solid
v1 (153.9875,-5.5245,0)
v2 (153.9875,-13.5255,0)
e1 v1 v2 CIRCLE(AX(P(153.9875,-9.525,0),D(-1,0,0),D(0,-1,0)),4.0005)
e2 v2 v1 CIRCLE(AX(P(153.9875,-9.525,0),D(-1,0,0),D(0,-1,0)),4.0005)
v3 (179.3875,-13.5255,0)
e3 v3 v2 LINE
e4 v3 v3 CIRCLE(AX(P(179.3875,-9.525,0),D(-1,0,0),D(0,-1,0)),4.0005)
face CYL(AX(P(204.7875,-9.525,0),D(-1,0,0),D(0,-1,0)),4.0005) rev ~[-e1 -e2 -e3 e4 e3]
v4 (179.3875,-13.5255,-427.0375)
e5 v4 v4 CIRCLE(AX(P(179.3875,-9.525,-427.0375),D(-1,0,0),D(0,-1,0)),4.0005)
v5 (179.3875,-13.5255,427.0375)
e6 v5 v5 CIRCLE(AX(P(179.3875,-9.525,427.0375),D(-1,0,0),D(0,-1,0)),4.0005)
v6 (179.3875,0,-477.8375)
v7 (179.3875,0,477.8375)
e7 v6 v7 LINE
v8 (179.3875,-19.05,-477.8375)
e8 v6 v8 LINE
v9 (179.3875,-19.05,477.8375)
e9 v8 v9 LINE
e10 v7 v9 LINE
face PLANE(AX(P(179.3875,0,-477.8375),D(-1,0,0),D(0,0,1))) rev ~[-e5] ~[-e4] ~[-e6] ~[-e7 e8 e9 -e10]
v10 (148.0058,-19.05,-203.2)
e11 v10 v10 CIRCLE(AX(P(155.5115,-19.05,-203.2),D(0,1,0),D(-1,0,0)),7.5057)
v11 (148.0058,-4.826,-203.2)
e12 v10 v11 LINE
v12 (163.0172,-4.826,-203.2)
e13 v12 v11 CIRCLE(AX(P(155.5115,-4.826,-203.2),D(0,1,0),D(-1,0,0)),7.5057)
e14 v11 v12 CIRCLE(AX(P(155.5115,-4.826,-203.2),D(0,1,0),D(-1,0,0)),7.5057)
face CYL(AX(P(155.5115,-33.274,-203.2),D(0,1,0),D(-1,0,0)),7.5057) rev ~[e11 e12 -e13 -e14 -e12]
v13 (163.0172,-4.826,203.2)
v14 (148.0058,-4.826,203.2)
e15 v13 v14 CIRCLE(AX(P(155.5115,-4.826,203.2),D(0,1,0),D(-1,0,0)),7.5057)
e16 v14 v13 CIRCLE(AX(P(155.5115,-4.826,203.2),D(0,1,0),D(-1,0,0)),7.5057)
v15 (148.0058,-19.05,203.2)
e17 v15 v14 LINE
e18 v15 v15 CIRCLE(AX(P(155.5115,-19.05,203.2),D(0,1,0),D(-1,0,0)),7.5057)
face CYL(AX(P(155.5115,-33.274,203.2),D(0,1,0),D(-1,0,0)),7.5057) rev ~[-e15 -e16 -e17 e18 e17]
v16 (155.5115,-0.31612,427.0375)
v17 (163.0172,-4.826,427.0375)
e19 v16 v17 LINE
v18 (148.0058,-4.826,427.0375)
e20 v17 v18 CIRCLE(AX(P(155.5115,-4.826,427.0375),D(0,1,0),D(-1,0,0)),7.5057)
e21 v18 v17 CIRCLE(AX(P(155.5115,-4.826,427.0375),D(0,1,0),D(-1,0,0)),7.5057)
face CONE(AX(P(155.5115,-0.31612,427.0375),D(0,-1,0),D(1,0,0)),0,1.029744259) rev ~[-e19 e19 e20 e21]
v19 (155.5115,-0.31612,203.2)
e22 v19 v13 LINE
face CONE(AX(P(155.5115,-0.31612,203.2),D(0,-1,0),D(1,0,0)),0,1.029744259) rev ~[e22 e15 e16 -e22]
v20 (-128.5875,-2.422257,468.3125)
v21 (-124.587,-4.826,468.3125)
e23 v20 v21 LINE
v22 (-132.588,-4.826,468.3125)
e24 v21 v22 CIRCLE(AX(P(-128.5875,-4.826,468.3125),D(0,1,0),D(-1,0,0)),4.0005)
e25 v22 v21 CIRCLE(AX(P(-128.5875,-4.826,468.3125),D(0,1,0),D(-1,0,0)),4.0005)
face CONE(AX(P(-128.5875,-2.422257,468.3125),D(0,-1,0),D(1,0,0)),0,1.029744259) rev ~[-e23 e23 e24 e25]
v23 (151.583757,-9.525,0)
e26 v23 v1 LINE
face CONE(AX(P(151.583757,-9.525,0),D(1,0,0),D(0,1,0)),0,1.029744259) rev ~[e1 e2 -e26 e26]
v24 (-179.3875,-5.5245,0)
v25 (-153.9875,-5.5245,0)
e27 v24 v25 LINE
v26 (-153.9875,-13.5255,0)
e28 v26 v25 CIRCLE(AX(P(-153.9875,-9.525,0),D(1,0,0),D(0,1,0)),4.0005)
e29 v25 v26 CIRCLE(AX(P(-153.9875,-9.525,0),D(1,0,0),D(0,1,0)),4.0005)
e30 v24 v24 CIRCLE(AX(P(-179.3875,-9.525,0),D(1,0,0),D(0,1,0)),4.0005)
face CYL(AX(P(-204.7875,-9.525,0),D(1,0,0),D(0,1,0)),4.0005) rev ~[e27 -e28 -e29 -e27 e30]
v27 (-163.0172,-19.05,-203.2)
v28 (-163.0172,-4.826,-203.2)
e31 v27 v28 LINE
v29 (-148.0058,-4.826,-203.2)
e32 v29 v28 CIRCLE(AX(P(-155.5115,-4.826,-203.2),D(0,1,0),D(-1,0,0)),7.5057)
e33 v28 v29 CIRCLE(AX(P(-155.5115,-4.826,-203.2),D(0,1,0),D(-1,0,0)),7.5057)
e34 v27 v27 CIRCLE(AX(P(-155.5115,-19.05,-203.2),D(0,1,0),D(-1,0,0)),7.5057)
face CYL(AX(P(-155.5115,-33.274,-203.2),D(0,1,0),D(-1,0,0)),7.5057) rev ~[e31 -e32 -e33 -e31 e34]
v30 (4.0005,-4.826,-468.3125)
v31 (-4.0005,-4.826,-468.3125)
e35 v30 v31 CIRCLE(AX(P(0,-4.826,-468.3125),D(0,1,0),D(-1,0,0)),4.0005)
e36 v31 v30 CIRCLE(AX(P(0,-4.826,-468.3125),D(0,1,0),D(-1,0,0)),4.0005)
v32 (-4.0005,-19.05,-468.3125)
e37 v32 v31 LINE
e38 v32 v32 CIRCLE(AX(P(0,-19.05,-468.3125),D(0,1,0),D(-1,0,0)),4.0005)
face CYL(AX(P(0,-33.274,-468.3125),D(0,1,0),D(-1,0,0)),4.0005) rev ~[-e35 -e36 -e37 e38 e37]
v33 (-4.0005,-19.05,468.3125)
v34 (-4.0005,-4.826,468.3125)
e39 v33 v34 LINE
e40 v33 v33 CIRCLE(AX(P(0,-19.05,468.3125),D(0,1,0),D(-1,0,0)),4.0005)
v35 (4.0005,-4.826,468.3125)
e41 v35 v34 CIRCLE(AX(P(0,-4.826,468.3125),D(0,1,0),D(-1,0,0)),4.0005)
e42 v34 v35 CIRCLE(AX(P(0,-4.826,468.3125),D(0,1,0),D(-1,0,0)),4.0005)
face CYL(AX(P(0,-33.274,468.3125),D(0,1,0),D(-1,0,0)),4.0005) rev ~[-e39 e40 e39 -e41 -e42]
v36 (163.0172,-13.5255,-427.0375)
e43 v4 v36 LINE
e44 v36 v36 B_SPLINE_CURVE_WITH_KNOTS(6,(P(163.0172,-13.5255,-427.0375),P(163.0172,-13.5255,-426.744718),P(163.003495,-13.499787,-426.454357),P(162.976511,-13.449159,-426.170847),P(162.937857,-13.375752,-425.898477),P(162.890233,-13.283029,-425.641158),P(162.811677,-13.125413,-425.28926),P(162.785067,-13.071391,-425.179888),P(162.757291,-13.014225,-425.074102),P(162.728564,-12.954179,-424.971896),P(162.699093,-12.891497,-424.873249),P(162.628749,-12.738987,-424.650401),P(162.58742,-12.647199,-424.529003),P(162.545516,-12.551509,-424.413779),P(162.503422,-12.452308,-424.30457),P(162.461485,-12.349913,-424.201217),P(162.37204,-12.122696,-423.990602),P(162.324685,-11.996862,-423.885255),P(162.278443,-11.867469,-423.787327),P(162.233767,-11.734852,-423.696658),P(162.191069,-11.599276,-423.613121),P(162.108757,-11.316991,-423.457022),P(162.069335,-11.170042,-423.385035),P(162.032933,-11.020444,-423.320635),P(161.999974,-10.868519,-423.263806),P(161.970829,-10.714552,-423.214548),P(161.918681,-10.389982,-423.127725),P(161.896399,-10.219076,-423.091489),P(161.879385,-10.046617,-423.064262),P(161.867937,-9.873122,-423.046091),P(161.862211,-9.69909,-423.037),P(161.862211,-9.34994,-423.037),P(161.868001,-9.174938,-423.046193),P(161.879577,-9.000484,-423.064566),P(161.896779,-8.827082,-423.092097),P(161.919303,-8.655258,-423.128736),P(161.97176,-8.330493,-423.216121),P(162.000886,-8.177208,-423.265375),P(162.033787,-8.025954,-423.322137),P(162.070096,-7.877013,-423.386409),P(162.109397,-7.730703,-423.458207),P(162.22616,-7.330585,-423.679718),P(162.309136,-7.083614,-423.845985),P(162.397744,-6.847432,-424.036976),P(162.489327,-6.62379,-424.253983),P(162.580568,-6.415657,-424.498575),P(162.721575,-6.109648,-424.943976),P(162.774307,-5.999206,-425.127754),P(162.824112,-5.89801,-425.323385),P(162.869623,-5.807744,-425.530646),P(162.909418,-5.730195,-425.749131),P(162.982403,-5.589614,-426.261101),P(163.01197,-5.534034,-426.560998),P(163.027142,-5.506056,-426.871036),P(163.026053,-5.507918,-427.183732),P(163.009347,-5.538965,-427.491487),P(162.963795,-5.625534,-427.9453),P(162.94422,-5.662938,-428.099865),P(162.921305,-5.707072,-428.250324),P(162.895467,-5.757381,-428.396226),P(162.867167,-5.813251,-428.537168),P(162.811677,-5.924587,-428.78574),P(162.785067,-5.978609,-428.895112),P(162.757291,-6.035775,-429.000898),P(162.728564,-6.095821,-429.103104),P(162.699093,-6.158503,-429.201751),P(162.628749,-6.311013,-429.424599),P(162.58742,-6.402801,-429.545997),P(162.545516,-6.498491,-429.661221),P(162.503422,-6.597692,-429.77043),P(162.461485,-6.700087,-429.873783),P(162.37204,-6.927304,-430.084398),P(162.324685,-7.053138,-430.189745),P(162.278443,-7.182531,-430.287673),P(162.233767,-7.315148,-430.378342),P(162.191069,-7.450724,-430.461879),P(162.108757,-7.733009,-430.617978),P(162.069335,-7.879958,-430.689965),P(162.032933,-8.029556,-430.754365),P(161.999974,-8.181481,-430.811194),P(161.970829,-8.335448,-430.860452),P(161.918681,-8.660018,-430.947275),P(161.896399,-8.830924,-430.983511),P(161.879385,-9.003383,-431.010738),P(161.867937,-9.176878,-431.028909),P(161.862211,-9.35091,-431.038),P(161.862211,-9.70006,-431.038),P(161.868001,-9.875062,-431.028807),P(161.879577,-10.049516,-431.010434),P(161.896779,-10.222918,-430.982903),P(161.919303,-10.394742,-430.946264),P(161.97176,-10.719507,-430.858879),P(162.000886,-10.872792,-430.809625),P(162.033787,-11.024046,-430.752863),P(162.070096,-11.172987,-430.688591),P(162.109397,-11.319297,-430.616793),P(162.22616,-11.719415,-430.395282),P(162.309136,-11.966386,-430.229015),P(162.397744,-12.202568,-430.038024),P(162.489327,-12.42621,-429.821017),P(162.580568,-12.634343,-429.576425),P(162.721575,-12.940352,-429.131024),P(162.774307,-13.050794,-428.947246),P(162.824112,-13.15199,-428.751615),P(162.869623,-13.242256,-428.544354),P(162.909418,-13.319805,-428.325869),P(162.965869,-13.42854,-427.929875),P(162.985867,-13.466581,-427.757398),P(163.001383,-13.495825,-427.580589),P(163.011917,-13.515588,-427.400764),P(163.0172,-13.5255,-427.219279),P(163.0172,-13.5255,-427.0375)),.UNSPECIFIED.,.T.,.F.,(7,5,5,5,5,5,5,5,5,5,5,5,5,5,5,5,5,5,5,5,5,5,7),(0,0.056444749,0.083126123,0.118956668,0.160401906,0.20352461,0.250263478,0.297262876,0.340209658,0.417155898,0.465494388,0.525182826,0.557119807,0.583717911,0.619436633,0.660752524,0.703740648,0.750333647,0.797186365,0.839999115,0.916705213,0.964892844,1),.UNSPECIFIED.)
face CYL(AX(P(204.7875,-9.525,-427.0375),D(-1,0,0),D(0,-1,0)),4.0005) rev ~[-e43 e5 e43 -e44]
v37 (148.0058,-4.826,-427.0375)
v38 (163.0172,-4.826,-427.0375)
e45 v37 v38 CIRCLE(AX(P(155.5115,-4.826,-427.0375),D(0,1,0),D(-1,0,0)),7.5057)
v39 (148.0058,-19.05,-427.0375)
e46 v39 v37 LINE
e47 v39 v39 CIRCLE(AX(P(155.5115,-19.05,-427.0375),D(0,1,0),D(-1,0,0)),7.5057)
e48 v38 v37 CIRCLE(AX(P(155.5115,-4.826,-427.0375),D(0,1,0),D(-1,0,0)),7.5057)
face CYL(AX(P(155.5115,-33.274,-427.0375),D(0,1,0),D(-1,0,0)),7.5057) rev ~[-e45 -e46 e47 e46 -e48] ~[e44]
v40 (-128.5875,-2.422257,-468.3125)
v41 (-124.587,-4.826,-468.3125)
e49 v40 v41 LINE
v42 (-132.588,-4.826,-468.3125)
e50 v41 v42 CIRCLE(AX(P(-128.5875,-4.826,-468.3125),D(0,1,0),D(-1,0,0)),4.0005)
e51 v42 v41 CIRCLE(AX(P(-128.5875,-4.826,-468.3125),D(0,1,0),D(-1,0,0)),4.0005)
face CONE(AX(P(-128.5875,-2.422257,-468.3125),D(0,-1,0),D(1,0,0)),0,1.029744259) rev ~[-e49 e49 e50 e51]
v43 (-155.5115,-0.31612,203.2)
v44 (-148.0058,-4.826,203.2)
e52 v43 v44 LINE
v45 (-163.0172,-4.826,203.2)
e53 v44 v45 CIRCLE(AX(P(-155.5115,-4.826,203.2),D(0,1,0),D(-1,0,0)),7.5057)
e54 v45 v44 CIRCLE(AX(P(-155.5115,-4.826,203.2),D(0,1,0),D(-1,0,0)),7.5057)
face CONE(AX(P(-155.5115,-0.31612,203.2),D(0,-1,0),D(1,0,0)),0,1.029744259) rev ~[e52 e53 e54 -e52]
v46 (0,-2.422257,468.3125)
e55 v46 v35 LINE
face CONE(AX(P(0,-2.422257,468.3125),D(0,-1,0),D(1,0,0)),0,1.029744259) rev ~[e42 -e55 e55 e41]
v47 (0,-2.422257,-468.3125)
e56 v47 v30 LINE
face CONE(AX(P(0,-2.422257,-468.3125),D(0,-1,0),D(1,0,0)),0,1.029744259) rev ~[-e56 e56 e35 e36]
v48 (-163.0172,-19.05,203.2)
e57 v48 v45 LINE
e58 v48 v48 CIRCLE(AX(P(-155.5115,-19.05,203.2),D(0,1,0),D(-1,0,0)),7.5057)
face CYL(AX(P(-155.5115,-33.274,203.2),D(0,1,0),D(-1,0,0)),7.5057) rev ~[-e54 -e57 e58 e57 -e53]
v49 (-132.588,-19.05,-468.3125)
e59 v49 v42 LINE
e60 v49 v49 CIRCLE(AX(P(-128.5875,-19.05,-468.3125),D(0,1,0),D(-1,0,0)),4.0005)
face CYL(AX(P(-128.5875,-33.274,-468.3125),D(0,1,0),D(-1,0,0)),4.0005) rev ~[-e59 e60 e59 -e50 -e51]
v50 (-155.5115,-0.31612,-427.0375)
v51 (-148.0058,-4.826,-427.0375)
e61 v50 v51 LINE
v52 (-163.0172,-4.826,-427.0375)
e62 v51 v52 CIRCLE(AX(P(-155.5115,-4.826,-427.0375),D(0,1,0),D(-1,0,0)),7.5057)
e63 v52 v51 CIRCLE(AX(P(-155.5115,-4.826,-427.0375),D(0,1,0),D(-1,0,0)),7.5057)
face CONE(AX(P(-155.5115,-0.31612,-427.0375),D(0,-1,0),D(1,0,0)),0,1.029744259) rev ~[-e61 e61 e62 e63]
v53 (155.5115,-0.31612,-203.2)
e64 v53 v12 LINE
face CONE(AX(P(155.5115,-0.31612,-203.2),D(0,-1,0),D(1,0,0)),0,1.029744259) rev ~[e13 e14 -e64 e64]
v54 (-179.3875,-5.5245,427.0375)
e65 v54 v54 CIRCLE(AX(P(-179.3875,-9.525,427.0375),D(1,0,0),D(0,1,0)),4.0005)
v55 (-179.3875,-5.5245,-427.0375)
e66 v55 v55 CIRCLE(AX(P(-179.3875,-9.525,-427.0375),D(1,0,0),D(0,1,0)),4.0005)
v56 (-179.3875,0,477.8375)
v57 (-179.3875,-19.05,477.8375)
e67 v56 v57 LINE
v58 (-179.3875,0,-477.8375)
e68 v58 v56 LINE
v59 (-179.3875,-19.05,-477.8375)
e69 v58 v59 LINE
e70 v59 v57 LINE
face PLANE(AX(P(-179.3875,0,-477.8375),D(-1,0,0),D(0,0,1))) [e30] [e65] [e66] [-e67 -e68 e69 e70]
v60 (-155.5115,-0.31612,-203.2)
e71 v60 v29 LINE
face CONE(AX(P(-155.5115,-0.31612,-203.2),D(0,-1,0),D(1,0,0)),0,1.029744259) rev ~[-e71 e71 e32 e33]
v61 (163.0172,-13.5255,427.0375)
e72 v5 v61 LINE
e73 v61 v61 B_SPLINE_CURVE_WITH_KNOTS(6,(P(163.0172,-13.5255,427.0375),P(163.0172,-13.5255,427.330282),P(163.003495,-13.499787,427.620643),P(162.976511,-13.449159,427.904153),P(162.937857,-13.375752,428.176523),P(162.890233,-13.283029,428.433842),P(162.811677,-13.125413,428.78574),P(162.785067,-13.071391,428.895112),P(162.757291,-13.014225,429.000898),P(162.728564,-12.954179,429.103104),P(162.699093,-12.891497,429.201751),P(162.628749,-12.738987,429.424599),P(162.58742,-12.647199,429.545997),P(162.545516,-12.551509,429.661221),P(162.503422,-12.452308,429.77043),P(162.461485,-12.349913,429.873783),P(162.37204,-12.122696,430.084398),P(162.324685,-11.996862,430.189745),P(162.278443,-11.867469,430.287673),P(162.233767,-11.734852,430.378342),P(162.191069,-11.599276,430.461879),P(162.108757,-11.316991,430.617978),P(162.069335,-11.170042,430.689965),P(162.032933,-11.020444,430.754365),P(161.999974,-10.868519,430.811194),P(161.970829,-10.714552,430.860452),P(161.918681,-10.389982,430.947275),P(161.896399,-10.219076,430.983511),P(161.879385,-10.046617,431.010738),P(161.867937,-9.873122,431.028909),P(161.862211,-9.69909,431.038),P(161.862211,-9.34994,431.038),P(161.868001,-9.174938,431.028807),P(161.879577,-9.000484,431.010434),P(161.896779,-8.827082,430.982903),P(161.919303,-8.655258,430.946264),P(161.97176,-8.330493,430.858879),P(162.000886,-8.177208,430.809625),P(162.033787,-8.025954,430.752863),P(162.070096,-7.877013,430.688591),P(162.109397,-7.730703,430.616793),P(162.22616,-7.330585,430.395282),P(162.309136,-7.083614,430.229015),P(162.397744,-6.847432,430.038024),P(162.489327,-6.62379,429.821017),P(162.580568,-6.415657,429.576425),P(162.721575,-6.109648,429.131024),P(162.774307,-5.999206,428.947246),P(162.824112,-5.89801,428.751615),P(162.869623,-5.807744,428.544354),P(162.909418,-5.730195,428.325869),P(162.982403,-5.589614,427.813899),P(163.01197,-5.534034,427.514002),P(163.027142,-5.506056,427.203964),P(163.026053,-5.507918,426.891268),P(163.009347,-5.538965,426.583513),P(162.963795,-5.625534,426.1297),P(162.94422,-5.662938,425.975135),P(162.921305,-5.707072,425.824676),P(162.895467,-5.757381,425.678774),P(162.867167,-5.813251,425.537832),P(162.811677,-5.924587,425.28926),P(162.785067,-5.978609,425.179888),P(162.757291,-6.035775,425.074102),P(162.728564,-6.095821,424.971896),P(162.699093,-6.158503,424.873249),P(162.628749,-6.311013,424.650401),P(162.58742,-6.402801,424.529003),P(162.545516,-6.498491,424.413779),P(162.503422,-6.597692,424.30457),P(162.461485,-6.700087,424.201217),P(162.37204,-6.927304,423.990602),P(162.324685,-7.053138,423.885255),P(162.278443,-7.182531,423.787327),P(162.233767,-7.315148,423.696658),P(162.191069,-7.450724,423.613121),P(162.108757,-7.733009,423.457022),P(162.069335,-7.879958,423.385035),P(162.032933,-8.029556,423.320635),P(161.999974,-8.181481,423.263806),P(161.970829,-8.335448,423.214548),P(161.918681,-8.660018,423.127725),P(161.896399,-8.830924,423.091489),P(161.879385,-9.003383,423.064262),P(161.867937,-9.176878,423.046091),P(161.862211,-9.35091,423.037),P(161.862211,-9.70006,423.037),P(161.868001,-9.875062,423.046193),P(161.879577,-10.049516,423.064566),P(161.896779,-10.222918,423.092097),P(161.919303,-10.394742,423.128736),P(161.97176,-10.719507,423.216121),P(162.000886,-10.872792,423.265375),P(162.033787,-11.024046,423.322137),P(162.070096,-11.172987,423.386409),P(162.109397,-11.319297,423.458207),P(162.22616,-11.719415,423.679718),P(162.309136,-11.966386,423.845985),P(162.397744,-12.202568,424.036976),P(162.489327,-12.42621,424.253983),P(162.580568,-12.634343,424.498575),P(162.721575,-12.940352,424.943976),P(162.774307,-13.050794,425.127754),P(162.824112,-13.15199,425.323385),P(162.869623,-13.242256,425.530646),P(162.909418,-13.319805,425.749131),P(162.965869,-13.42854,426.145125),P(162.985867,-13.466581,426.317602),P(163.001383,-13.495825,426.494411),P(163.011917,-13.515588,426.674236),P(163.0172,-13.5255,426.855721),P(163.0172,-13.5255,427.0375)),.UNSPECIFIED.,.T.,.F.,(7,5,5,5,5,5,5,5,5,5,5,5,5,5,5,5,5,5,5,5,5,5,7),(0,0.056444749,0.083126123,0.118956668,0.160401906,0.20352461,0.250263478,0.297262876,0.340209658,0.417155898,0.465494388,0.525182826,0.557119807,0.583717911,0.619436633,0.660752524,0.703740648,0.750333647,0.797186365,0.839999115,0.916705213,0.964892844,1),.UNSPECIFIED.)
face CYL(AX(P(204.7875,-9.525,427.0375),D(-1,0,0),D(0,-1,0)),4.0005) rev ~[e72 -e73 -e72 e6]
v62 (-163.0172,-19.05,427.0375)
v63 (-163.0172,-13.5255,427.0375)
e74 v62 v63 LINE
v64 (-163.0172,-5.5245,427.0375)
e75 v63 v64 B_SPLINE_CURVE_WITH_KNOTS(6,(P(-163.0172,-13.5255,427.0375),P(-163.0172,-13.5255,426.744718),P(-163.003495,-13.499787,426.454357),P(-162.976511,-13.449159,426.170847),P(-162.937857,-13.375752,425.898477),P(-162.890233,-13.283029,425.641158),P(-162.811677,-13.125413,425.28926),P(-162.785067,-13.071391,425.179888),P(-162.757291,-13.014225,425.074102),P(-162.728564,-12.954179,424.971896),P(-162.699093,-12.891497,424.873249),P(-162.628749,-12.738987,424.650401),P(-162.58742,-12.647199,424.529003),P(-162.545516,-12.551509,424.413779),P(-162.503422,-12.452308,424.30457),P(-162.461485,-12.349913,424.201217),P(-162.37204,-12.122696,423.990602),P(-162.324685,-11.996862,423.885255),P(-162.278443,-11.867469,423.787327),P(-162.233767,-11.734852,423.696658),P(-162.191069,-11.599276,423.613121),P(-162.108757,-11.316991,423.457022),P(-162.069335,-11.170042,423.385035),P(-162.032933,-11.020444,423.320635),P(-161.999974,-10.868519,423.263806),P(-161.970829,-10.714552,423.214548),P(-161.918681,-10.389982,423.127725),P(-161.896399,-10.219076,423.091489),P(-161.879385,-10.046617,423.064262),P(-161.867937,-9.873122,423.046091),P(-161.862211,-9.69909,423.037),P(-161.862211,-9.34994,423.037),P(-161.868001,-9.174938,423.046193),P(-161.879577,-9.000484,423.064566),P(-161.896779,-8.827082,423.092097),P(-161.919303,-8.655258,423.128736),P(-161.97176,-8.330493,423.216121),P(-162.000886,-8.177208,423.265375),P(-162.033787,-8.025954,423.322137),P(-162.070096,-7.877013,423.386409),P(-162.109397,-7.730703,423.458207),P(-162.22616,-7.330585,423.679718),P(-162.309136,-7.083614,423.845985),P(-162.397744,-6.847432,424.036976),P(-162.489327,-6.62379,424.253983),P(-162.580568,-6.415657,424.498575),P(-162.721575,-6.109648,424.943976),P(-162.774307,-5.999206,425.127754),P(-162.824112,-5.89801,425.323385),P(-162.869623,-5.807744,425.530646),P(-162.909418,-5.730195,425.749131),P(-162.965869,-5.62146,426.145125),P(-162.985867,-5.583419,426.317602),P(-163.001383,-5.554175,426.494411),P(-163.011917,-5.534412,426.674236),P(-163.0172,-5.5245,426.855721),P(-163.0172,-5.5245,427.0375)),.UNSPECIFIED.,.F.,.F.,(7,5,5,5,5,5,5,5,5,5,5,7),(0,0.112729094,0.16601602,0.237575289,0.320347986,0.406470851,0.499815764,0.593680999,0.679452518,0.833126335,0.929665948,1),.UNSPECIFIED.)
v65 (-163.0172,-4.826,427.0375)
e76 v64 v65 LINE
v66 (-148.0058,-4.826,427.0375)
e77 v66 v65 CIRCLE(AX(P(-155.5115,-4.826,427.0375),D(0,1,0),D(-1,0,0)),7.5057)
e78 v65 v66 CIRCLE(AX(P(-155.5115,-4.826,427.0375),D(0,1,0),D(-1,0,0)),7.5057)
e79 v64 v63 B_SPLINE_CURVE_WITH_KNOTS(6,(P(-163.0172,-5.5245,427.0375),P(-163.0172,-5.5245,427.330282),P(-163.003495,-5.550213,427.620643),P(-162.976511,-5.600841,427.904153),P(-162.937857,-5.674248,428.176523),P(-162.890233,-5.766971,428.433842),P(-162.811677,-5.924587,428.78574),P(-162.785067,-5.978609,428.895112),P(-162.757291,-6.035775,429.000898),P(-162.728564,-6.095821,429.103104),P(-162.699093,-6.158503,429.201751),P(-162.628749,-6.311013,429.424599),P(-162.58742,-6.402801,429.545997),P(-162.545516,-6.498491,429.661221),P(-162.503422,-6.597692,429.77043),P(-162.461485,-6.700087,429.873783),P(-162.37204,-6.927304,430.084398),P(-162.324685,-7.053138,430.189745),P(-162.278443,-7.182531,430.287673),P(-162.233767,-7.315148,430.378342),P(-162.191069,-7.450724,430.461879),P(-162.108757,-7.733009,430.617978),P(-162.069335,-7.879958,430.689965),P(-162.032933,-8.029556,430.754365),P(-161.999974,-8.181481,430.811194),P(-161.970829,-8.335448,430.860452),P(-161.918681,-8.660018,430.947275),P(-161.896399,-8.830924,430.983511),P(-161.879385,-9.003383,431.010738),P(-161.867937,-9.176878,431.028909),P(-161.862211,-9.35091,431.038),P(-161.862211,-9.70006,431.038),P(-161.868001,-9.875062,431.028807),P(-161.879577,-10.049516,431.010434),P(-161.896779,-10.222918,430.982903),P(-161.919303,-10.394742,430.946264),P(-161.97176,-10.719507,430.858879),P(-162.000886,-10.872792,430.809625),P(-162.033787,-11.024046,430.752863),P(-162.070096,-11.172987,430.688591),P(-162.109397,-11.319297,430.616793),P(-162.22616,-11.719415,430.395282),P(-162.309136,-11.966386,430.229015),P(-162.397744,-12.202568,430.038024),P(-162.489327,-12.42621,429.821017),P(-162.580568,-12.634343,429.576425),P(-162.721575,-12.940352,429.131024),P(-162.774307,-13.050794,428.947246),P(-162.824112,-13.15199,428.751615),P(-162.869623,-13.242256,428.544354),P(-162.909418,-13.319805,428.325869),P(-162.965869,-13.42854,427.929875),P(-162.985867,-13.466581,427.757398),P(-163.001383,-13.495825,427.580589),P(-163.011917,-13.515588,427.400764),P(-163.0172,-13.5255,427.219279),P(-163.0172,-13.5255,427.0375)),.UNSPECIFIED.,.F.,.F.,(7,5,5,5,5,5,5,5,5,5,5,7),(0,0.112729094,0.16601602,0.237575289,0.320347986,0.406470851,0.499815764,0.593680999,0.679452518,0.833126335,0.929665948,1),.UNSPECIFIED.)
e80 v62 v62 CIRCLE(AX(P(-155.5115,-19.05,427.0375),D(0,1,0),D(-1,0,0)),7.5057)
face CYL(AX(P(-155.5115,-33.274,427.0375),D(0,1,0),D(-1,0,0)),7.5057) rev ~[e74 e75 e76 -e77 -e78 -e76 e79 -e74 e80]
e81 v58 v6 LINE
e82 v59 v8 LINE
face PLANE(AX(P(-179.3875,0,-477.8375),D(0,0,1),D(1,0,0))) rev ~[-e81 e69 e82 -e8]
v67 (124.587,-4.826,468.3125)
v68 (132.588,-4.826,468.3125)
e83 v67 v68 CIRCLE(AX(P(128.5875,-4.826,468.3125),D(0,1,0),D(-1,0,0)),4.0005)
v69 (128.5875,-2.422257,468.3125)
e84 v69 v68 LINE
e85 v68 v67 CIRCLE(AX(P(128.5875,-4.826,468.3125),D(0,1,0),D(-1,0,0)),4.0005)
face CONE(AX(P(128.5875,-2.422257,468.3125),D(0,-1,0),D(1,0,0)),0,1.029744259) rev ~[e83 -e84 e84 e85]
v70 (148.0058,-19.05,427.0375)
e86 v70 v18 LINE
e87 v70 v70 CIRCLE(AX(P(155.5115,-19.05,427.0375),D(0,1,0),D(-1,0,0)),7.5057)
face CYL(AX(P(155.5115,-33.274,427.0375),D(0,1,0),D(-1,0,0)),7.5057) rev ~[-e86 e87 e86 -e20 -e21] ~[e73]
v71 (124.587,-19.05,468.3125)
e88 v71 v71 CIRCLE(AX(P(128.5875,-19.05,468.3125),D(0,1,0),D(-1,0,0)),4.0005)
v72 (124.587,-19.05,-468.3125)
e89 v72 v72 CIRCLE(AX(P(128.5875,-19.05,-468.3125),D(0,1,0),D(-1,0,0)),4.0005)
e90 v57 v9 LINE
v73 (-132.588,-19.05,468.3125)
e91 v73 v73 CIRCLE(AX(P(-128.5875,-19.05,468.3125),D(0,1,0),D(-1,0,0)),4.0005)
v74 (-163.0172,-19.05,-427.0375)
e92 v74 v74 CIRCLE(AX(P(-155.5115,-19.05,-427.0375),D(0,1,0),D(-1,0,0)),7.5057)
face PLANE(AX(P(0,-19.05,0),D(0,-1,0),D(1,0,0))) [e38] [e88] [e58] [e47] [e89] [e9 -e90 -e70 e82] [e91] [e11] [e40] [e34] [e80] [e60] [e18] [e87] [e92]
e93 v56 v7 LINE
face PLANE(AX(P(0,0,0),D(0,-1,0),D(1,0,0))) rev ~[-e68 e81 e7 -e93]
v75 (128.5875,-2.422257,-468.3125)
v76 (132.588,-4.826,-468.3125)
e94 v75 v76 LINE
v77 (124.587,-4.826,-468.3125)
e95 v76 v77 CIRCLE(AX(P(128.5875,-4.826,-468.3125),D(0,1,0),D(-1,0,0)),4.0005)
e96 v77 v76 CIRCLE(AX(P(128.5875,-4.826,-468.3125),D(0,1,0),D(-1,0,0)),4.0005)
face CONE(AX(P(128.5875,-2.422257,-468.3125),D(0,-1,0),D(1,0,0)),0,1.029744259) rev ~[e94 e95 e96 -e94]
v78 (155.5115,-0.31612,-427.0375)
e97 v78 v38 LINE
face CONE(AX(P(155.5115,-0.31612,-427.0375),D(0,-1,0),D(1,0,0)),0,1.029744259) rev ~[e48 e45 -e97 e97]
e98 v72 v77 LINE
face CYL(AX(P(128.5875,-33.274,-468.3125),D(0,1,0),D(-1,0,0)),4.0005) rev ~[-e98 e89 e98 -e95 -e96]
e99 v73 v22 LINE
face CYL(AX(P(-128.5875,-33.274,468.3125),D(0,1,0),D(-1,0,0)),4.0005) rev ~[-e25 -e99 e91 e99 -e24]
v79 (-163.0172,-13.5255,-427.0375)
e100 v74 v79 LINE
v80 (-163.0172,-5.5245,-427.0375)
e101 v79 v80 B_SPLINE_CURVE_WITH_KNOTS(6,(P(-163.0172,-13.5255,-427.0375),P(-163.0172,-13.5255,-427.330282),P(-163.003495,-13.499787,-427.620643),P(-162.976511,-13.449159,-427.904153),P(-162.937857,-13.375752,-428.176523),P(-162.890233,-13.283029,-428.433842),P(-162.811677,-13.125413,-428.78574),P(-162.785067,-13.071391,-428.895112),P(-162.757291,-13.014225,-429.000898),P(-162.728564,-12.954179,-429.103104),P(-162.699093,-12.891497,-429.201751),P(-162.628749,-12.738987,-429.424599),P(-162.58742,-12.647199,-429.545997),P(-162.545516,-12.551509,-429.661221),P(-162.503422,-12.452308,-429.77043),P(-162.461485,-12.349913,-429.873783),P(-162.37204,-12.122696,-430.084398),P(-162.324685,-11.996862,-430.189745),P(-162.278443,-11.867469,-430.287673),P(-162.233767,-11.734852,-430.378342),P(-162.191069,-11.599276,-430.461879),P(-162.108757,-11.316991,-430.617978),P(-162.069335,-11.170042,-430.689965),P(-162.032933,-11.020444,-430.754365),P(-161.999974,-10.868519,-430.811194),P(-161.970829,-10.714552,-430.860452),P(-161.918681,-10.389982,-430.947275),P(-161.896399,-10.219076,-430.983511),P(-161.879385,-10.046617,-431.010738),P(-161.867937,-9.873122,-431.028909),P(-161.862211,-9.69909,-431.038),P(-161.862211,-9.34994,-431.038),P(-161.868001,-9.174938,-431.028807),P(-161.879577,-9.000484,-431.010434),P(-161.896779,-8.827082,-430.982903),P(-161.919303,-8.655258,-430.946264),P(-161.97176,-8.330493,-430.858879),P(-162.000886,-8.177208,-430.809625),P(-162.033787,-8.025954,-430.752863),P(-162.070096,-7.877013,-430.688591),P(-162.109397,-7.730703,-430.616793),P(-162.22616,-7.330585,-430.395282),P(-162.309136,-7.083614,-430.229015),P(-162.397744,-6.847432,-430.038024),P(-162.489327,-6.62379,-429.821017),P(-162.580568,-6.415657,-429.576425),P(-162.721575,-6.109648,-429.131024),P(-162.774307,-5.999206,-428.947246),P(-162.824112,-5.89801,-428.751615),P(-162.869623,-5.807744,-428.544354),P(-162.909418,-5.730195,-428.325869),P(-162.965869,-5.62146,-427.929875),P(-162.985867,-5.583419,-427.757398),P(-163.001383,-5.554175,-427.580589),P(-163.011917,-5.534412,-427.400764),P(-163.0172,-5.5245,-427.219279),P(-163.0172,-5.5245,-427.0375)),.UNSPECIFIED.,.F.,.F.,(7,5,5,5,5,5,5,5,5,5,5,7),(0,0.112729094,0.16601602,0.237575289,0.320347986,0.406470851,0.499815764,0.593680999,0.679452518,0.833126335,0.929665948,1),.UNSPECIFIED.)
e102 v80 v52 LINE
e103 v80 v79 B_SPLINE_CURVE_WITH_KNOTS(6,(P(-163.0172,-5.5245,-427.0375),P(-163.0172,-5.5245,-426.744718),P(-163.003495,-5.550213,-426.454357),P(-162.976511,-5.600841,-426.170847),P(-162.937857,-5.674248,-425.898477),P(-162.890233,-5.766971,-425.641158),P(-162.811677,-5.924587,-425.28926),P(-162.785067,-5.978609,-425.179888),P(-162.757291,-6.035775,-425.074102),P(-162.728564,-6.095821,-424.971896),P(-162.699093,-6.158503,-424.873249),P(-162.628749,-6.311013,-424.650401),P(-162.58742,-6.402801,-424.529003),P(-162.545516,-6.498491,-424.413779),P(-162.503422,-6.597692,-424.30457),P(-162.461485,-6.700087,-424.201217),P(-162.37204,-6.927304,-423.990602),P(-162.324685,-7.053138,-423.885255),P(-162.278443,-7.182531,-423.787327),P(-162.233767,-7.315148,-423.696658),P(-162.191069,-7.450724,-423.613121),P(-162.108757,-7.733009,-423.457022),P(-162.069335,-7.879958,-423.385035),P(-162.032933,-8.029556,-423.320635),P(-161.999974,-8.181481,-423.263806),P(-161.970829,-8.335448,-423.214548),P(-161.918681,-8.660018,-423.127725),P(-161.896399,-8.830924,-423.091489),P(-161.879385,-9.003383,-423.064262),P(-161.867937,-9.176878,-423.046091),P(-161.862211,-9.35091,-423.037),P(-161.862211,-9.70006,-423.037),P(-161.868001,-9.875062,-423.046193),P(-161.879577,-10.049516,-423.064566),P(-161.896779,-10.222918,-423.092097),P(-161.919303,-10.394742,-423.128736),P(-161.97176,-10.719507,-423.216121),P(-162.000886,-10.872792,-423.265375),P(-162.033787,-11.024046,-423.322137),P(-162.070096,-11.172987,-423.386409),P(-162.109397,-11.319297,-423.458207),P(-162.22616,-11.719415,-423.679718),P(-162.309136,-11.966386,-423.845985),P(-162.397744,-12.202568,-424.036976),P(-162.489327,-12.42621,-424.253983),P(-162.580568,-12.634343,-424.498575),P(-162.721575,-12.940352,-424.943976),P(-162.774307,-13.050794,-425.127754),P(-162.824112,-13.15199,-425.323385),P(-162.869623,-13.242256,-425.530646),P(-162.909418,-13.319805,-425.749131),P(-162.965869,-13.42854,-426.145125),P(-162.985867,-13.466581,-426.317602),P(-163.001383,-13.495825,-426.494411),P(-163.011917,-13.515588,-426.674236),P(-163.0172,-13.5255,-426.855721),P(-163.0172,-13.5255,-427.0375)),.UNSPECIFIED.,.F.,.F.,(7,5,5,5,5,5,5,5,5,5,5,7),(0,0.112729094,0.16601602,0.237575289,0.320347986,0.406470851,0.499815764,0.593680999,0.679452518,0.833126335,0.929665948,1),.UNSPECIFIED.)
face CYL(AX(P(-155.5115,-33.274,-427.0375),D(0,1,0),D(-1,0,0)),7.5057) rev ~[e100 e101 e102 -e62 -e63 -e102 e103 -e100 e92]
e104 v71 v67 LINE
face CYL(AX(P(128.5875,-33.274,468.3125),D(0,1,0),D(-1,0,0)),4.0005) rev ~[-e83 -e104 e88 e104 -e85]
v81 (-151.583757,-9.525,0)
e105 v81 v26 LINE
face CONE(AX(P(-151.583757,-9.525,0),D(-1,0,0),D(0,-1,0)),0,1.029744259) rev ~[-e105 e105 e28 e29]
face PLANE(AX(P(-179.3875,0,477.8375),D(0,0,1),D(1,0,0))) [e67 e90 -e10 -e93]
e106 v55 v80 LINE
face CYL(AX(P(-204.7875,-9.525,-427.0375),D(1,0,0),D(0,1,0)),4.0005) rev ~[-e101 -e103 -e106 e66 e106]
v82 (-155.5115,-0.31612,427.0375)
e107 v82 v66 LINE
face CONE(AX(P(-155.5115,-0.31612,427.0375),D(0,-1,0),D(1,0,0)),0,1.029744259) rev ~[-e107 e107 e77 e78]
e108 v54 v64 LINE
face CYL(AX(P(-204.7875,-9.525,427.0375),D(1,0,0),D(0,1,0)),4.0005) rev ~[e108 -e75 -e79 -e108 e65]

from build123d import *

# Parameters (mm, degrees)
F0_W      = 358.775
F0_H      = 955.675
F1_DEPTH  = 19.05
F3_D      = 8.001
F3_DEPTH  = 14.224
F3_TIP    = 2.4037429064
F4_D      = 8.001
F4_DEPTH  = 14.224
F4_TIP    = 2.4037429064
F6_D      = 15.0114
F6_DEPTH  = 14.224
F6_TIP    = 4.5098795482
F8_D      = 8.001
F8_DEPTH  = 25.4
F8_TIP    = 2.4037429064
F10_D     = 8.001
F10_DEPTH = 25.4
F10_TIP   = 2.4037429064


with BuildPart() as f1:
    # F0 (on Front) → F1 (new body)
    with BuildSketch(Plane.XZ):
        Rectangle(F0_W, F0_H)
    extrude(amount=F1_DEPTH)

    # F3
    with Locations(Plane.XZ.offset(19.05)):
        with Locations((0, 468.3125), (-128.5875, 468.3125), (128.5875, 468.3125), (-128.5875, -468.3125), (128.5875, -468.3125)):
            Hole(F3_D / 2, depth=F3_DEPTH)
            with Locations((0, 0, -(F3_DEPTH + F3_TIP / 2))):  # 118° drill point
                Cone(0, F3_D / 2, F3_TIP, mode=Mode.SUBTRACT)

    # F4
    with Locations(Plane.XZ.offset(19.05)):
        with Locations((0, -468.3125)):
            Hole(F4_D / 2, depth=F4_DEPTH)
            with Locations((0, 0, -(F4_DEPTH + F4_TIP / 2))):  # 118° drill point
                Cone(0, F4_D / 2, F4_TIP, mode=Mode.SUBTRACT)

    # F6
    with Locations(Plane.XZ.offset(19.05)):
        with Locations((-155.5115, 427.0375), (155.5115, 427.0375), (-155.5115, -427.0375), (155.5115, -427.0375), (-155.5115, 203.2), (155.5115, 203.2), (155.5115, -203.2), (-155.5115, -203.2)):
            Hole(F6_D / 2, depth=F6_DEPTH)
            with Locations((0, 0, -(F6_DEPTH + F6_TIP / 2))):  # 118° drill point
                Cone(0, F6_D / 2, F6_TIP, mode=Mode.SUBTRACT)

    # F8
    with Locations(Plane.YZ.offset(179.3875)):
        with Locations((-9.525, 427.0375), (-9.525, 0), (-9.525, -427.0375)):
            Hole(F8_D / 2, depth=F8_DEPTH)
            with Locations((0, 0, -(F8_DEPTH + F8_TIP / 2))):  # 118° drill point
                Cone(0, F8_D / 2, F8_TIP, mode=Mode.SUBTRACT)

    # F10
    with Locations(Plane(origin=(-179.3875, 0, 0), x_dir=(0, -1, 0), z_dir=(-1, 0, 0))):
        with Locations((9.525, 427.0375), (9.525, 0), (9.525, -427.0375)):
            Hole(F10_D / 2, depth=F10_DEPTH)
            with Locations((0, 0, -(F10_DEPTH + F10_TIP / 2))):  # 118° drill point
                Cone(0, F10_D / 2, F10_TIP, mode=Mode.SUBTRACT)


solid = f1.part
